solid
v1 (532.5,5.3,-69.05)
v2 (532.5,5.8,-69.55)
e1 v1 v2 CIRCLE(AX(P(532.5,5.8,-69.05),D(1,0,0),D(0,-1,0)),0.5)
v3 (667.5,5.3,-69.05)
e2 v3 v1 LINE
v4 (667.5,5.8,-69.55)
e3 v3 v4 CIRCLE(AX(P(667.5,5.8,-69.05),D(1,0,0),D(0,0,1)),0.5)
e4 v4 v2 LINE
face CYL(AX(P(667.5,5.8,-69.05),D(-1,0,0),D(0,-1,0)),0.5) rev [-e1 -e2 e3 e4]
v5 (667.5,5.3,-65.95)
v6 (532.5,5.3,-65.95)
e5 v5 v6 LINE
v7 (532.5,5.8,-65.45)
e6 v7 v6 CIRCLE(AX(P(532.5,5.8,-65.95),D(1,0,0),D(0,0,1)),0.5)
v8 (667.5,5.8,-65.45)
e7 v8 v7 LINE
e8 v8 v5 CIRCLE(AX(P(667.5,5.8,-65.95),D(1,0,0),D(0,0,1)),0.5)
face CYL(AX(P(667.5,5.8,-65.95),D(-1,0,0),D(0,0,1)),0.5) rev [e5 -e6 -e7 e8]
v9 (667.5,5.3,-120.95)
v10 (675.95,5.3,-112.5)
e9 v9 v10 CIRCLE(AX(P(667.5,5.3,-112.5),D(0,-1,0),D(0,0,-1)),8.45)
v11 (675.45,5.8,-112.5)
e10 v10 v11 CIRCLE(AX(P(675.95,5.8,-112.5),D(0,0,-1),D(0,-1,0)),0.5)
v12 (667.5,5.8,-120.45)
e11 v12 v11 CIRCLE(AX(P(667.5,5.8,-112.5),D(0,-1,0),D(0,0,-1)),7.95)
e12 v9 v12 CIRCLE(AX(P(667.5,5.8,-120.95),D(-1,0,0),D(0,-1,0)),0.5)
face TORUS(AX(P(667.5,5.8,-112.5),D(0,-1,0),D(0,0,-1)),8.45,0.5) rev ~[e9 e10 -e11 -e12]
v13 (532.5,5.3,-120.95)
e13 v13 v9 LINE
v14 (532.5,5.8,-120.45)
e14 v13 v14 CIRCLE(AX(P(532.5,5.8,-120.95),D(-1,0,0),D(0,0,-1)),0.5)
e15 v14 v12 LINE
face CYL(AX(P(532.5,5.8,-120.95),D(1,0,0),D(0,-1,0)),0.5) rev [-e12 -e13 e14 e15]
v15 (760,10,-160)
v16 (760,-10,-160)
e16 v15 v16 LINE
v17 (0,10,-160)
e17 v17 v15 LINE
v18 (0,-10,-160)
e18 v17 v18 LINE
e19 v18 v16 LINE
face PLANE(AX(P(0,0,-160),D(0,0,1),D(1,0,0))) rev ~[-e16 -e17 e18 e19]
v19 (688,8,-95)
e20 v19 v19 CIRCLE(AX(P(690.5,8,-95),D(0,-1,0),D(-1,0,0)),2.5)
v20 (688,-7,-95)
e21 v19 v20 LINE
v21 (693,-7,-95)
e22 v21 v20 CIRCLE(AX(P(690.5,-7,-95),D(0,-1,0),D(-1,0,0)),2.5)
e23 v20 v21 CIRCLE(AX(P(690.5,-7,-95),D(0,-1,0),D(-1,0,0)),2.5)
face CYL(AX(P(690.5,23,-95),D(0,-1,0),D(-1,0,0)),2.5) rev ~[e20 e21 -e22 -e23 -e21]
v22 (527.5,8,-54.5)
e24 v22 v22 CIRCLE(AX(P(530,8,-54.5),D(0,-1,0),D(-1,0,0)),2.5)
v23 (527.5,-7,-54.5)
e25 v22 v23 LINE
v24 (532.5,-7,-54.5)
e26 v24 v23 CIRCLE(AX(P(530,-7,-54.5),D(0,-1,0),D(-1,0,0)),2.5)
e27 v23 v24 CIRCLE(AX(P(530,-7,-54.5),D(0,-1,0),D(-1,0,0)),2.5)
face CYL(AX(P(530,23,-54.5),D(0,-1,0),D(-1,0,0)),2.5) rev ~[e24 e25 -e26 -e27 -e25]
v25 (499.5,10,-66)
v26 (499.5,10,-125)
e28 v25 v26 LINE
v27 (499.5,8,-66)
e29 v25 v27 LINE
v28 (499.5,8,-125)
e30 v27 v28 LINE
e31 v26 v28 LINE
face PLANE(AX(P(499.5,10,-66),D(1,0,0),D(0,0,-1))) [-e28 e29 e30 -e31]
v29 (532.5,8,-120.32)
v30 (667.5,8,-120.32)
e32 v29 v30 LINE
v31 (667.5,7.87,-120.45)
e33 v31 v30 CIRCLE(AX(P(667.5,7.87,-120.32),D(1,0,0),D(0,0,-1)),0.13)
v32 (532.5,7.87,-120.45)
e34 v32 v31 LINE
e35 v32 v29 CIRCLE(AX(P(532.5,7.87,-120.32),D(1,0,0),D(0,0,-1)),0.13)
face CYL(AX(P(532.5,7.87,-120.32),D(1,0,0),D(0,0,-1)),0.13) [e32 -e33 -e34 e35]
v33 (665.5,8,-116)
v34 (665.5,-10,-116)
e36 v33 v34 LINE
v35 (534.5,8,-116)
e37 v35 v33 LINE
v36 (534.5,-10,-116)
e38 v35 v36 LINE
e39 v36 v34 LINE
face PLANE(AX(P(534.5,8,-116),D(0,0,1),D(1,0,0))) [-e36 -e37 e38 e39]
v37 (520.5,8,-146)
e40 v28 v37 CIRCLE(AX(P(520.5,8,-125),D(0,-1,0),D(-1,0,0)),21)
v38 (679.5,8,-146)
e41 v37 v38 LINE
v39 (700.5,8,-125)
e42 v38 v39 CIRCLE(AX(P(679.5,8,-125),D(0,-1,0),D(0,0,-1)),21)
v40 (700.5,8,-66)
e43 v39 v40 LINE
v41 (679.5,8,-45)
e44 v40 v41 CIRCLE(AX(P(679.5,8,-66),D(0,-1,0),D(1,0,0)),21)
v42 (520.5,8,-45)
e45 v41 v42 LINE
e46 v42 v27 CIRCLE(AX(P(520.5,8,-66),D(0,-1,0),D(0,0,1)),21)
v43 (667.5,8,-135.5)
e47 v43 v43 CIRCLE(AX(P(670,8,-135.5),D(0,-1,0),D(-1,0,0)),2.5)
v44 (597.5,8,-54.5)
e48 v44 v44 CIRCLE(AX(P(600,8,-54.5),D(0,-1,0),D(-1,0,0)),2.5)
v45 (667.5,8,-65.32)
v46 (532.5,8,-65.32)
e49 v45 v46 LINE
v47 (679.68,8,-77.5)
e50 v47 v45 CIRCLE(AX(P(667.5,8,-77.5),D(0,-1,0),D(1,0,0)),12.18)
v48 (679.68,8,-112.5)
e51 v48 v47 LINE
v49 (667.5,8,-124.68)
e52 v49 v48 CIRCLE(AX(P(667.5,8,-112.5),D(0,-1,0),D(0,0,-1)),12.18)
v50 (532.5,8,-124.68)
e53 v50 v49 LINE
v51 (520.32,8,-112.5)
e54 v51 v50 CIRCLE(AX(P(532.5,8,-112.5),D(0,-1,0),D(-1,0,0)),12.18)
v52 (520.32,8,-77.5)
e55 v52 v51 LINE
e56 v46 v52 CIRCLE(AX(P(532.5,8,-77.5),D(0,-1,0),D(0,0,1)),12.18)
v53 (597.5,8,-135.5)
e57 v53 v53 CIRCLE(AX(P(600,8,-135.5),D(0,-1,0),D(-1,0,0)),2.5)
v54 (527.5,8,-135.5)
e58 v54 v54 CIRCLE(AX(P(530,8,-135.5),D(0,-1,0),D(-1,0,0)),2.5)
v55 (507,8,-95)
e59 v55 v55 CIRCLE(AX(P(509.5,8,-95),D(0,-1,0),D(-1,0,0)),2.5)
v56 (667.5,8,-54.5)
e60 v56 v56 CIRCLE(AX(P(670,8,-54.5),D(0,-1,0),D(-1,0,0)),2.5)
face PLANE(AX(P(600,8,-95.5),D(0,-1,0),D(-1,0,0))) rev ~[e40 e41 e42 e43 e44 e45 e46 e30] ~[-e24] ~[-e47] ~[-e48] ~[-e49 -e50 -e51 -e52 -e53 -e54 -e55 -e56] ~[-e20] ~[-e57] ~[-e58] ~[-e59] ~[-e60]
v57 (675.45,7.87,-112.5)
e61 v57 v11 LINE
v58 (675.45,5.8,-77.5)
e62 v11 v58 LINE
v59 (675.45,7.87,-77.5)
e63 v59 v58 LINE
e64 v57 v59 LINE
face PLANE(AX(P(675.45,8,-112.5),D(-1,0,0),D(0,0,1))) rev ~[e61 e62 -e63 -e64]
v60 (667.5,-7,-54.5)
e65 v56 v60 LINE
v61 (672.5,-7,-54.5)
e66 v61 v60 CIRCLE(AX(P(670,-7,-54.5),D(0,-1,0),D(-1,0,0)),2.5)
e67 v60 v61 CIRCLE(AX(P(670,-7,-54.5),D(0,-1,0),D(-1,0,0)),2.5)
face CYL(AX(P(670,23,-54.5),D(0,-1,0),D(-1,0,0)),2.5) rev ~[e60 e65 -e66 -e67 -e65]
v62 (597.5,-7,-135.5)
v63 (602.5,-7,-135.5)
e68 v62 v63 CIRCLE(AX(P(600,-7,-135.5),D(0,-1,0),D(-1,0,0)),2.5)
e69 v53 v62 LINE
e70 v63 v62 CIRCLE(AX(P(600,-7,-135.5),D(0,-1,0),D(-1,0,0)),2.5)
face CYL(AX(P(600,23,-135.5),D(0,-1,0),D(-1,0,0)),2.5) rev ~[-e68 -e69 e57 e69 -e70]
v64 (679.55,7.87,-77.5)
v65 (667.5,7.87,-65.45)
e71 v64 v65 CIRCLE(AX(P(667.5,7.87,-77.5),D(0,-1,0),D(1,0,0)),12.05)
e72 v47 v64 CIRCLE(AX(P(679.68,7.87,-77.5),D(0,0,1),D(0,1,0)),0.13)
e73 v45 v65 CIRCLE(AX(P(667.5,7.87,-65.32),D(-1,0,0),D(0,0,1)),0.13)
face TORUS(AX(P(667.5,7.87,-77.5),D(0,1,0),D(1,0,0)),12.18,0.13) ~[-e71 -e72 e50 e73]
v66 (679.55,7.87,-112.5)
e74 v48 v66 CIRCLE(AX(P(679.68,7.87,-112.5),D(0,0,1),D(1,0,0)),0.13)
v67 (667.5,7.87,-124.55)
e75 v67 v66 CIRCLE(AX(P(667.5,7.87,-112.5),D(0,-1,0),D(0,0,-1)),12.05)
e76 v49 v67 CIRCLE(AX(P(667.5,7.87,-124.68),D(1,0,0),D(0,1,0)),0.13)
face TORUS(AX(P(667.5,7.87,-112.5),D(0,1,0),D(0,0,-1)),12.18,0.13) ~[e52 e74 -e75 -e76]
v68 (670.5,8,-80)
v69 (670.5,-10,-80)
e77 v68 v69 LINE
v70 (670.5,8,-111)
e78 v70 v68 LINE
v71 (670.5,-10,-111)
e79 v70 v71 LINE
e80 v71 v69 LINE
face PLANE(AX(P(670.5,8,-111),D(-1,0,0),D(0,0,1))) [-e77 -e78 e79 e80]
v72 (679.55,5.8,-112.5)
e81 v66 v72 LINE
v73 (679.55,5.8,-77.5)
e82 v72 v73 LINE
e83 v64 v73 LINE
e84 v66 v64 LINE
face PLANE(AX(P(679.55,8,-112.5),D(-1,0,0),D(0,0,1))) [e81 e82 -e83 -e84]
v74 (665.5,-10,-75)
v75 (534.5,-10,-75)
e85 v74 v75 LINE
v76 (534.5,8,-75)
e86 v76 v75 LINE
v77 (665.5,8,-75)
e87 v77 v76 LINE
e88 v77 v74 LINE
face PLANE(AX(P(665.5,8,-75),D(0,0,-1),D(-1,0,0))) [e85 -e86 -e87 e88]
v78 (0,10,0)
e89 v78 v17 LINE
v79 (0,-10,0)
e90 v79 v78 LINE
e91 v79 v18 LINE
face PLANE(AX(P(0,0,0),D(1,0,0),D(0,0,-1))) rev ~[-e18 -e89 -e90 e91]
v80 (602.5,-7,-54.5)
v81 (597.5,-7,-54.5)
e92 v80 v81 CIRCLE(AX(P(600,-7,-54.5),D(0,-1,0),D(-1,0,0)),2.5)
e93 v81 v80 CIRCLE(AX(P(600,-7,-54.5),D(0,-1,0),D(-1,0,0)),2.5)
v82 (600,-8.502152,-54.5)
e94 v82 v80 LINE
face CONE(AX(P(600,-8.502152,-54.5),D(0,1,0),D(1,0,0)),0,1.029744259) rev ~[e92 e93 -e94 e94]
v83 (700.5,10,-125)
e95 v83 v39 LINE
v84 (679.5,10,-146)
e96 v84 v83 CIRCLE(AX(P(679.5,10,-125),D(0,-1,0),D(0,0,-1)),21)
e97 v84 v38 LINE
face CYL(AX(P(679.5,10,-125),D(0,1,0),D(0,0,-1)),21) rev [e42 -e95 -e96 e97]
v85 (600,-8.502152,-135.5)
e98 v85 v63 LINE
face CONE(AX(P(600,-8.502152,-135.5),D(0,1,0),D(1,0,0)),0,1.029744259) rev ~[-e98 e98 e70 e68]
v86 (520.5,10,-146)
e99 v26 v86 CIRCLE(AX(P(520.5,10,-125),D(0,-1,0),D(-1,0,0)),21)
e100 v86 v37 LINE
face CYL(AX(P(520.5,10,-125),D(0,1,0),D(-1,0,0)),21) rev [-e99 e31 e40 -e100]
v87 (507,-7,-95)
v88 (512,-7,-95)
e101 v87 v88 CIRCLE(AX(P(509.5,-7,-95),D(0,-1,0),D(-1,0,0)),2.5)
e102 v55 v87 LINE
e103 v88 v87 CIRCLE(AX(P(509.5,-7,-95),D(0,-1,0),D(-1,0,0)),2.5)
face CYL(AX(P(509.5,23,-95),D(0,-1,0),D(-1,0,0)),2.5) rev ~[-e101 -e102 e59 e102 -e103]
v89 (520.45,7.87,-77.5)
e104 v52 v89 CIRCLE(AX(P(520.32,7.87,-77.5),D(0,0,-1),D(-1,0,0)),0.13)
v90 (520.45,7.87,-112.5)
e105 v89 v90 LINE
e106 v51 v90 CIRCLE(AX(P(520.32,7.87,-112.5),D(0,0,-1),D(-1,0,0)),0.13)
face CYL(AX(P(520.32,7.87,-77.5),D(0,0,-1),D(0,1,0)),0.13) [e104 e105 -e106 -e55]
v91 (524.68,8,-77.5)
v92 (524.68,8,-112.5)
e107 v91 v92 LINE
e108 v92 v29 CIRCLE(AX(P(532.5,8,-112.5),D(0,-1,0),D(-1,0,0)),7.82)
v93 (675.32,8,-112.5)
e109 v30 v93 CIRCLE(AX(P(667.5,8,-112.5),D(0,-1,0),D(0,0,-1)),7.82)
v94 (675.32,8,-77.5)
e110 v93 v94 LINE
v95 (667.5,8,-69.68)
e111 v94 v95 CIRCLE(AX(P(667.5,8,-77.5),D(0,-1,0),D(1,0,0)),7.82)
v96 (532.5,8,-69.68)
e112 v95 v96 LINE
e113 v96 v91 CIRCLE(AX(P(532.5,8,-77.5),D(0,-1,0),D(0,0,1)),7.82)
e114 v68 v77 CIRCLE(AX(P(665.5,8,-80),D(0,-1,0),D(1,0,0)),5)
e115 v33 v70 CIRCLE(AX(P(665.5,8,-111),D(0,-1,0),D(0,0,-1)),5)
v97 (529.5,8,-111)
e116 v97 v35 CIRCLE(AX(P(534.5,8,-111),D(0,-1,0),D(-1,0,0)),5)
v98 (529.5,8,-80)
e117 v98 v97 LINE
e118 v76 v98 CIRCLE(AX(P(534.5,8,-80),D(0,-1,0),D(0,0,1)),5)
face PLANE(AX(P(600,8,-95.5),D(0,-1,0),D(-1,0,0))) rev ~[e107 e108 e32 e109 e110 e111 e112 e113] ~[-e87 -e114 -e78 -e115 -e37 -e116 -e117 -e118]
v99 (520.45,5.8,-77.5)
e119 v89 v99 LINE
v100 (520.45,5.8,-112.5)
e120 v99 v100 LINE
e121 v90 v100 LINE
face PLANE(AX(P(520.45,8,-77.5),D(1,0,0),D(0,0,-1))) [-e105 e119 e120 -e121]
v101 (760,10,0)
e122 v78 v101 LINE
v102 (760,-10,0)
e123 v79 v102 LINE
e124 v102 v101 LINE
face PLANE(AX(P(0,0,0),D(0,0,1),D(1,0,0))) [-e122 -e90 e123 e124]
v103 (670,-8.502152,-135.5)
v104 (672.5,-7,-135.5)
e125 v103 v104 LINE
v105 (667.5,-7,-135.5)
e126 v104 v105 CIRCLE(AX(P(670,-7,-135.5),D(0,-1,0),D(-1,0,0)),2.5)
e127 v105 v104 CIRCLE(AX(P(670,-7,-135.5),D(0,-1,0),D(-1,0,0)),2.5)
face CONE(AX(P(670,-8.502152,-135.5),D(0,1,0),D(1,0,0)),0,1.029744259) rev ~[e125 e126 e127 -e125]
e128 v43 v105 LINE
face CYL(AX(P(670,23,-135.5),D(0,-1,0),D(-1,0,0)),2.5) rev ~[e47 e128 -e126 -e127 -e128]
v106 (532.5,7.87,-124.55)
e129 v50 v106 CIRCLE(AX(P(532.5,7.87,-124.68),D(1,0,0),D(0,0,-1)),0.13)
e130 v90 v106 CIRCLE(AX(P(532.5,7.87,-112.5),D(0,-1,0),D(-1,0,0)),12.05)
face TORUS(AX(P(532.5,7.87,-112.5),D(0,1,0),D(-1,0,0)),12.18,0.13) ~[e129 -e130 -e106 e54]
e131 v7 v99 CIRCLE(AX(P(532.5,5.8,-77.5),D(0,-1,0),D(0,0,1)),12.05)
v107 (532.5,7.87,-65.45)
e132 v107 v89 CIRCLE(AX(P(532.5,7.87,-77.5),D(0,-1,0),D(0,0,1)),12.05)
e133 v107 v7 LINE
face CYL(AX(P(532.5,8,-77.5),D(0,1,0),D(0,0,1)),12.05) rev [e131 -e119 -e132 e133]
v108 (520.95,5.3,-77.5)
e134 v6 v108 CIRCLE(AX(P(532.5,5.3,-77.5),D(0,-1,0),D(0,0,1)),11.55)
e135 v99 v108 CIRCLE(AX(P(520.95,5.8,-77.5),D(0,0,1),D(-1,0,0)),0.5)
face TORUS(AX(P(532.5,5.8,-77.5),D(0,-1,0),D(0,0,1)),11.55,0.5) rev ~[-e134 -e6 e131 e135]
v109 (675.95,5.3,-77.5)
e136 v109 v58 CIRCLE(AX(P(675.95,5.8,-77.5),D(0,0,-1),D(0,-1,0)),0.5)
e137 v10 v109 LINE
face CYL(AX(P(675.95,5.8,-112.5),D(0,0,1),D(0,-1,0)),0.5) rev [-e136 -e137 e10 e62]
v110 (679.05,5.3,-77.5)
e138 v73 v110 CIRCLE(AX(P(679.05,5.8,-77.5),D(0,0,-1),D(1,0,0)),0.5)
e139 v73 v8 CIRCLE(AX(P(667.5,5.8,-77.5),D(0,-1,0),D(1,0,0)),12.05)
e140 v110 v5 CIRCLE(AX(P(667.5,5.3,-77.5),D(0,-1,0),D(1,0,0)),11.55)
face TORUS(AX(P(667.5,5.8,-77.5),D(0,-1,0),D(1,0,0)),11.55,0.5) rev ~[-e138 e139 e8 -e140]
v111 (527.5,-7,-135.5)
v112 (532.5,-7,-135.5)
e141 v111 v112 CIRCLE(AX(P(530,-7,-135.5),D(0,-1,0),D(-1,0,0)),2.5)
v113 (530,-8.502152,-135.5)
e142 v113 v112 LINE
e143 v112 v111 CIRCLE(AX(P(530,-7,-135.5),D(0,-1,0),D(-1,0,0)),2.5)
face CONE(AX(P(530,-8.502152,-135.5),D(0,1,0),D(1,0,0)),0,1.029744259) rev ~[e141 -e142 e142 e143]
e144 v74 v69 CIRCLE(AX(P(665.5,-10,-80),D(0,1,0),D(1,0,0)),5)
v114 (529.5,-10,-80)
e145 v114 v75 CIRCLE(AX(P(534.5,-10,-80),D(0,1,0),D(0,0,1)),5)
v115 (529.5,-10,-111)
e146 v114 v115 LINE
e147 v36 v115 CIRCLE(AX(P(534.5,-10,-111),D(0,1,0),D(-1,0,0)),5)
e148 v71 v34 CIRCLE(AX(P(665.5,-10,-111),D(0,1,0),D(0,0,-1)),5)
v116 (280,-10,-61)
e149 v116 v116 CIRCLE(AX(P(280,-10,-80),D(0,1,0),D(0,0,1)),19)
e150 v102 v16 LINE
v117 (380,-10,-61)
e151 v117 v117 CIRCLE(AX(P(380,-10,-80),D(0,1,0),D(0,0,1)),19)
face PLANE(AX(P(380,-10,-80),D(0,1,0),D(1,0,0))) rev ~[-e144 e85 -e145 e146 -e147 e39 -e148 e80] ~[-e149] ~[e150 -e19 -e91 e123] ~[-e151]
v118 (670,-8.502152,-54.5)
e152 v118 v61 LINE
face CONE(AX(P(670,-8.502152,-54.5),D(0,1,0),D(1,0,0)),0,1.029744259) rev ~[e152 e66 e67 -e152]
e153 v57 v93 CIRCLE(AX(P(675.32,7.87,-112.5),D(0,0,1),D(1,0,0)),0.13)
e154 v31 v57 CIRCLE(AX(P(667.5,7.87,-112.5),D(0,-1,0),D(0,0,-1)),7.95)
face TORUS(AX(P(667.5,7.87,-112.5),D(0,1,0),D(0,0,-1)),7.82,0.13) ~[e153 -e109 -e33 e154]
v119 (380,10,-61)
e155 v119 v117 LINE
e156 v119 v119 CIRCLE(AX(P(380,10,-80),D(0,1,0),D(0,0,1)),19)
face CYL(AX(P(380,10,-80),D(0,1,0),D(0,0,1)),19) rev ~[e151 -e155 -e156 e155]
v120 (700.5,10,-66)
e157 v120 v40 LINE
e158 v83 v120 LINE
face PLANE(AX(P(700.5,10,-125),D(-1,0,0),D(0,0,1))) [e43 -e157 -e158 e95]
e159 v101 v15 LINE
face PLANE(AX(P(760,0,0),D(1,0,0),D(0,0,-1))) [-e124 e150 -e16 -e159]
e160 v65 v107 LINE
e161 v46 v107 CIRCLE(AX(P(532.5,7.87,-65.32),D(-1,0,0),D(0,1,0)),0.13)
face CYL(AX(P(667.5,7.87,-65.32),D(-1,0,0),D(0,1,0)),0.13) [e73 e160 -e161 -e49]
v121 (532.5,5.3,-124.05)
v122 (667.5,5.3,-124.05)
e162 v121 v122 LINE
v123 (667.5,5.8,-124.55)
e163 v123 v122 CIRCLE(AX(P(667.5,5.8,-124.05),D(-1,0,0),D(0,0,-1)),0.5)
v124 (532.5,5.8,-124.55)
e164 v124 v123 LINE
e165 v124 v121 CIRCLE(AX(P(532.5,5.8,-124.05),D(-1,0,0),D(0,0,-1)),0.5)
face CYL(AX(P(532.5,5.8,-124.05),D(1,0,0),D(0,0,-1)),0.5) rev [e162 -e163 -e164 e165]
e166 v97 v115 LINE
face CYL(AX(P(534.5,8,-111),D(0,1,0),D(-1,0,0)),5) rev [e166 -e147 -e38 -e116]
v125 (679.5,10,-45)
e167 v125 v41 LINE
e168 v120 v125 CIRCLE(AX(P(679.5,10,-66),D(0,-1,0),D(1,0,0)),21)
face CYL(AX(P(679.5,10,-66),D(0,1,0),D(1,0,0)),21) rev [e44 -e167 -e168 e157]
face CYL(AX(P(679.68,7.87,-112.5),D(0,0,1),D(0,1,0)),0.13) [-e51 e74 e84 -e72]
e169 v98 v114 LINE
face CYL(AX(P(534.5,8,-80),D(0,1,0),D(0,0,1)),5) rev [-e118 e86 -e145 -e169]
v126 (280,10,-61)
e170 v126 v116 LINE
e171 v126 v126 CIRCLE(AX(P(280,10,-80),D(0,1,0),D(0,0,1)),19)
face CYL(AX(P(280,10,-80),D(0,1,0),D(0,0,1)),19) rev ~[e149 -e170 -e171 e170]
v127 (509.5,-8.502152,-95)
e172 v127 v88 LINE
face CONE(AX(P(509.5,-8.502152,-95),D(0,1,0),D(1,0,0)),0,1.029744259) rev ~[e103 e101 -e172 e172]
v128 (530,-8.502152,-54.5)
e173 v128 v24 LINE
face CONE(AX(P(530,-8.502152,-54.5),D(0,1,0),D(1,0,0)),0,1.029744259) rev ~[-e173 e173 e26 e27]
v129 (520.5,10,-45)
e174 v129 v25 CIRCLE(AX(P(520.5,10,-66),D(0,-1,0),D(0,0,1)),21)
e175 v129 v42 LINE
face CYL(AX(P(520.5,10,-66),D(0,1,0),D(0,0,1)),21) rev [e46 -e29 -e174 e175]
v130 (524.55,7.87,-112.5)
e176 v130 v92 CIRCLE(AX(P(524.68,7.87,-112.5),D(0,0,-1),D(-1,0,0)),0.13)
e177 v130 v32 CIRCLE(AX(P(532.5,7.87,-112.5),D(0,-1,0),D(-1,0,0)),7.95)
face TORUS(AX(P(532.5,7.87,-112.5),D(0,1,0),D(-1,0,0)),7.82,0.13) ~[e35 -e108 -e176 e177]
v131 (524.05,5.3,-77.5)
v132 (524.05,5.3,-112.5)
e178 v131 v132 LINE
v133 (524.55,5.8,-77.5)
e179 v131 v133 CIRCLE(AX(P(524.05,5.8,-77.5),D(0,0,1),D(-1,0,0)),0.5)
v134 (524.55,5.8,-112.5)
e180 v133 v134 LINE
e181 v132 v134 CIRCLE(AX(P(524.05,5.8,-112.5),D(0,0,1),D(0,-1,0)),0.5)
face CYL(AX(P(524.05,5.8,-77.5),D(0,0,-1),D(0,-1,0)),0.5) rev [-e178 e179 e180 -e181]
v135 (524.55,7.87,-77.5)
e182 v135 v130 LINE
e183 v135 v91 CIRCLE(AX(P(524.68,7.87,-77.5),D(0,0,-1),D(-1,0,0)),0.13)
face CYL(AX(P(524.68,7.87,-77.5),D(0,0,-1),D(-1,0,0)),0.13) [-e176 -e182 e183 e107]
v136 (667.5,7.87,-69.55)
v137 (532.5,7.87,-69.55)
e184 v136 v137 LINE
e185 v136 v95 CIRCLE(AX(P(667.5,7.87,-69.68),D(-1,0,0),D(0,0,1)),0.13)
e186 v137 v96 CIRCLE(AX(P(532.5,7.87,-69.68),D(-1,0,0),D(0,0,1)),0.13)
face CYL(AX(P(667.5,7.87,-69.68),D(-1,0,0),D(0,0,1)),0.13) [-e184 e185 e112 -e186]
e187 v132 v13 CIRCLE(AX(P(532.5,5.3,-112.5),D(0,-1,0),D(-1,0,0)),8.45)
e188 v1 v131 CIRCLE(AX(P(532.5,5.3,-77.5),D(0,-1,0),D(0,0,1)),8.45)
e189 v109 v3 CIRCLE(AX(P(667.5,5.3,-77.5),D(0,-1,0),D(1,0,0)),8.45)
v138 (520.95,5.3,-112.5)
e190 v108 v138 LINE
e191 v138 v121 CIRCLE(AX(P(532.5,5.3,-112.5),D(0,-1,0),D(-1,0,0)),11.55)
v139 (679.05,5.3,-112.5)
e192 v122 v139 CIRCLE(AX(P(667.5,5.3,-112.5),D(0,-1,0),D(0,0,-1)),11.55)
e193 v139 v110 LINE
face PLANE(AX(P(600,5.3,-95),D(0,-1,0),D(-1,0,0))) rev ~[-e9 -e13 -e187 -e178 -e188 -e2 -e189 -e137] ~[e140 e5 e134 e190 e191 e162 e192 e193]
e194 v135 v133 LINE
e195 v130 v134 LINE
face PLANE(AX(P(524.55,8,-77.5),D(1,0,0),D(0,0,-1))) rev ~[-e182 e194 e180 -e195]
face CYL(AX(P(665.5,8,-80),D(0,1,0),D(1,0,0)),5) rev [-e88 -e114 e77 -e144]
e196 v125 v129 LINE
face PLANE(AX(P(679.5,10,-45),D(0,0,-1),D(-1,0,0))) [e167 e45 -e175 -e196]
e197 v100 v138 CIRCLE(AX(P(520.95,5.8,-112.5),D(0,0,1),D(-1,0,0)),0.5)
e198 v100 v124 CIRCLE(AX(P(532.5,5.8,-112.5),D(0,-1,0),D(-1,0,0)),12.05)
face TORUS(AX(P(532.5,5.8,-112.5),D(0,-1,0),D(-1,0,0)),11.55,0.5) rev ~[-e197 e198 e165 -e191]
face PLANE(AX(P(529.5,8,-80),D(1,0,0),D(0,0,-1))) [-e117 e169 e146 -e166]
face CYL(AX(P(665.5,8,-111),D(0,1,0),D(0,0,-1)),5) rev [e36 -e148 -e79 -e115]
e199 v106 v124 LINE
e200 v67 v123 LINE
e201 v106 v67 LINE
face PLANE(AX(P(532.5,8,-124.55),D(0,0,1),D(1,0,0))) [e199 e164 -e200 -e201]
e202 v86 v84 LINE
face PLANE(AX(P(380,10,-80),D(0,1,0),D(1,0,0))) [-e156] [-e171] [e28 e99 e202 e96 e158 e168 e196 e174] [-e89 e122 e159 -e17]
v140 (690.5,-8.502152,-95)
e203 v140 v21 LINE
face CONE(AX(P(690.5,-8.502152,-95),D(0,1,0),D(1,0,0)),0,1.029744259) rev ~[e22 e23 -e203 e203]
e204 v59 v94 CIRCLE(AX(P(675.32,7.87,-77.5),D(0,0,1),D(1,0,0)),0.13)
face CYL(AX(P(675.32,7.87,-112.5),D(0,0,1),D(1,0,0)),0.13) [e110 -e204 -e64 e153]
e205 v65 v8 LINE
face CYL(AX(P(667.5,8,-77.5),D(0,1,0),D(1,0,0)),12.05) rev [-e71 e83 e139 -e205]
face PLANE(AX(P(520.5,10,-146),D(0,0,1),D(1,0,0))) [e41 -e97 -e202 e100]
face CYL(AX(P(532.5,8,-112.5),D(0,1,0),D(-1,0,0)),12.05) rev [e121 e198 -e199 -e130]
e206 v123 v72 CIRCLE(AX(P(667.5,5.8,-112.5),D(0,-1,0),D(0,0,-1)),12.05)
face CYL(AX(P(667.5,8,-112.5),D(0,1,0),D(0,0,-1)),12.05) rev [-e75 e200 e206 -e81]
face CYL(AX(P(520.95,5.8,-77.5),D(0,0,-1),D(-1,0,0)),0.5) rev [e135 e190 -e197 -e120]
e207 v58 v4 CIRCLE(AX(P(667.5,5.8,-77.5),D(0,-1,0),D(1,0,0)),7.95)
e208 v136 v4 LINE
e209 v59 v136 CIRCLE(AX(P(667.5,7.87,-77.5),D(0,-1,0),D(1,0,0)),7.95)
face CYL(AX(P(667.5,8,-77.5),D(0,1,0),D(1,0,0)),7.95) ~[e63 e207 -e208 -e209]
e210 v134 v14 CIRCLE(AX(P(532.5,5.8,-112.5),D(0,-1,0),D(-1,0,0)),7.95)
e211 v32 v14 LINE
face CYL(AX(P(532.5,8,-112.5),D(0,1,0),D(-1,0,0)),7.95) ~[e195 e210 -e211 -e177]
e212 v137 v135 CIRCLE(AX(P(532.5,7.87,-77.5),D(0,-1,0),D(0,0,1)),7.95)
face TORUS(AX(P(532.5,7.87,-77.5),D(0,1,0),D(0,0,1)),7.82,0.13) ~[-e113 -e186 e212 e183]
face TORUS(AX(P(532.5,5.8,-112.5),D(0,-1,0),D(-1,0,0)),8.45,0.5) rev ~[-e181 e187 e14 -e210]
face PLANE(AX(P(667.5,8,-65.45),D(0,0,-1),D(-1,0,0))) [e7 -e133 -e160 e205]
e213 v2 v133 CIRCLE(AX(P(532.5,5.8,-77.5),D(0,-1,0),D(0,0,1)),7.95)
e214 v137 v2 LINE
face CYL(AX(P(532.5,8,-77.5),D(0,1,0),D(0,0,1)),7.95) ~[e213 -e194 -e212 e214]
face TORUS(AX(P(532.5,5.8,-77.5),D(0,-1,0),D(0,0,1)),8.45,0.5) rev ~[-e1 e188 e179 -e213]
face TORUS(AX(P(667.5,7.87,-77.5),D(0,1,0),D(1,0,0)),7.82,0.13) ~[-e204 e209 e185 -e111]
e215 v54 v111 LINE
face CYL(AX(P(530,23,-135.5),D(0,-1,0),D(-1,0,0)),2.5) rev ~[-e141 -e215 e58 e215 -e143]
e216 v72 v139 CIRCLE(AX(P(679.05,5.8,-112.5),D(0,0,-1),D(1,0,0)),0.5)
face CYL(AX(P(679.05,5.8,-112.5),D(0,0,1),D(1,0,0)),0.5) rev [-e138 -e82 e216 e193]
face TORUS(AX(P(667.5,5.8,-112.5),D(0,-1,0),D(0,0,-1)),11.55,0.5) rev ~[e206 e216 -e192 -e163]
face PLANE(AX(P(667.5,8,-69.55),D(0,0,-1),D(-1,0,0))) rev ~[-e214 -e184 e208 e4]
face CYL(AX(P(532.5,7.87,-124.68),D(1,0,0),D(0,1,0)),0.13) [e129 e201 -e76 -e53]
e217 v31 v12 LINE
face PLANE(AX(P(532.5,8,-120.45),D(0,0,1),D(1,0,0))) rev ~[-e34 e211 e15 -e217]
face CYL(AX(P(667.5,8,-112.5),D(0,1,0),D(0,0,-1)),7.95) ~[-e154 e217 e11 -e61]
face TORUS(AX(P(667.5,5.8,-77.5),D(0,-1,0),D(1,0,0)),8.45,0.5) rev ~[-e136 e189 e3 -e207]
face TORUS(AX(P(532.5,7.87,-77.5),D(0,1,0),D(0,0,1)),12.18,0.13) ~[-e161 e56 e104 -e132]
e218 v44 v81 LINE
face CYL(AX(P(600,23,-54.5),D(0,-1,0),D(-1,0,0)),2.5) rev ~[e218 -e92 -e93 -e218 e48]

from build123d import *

# Parameters (mm, degrees)
SKETCH_1_W             = 760
SKETCH_1_H             = 160
EXTRUDE_1_DEPTH        = 10
SKETCH_2_R             = 19
CUT_EXTRUDE_1_DEPTH    = 777.916983982
CUT_EXTRUDE_2_DEPTH    = 2
CUT_EXTRUDE_4_DEPTH    = 2.7
CUT_EXTRUDE_5_DEPTH    = 777.868071168
HOLE_WIZARD_M6_1_D     = 5
HOLE_WIZARD_M6_1_DEPTH = 15
HOLE_WIZARD_M6_1_TIP   = 1.502151548
FILLET_1_R             = 0.13
FILLET_2_R             = 0.5
FILLET_3_R             = 0.5
FILLET_4_R             = 0.13


with BuildPart() as part:
    # 스케치1 → 보스-돌출1 (new, symmetric)
    with BuildSketch(Plane(origin=(0, 0, 0), x_dir=(1, 0, 0), z_dir=(0, 1, 0))):
        with Locations((380, 80)):
            Rectangle(SKETCH_1_W, SKETCH_1_H)
    extrude(amount=EXTRUDE_1_DEPTH, both=True)

    # 스케치2 → 컷-돌출1 (cut, through all)
    with BuildSketch(Plane(origin=(0, 10, 0), x_dir=(1, 0, 0), z_dir=(0, 1, 0))):
        with Locations(Location((280, 80, 0), (0, 0, 270))):
            Circle(SKETCH_2_R)
        with Locations(Location((380, 80, 0), (0, 0, 270))):
            Circle(SKETCH_2_R)
    extrude(amount=-CUT_EXTRUDE_1_DEPTH, mode=Mode.SUBTRACT)

    # 스케치3 → 컷-돌출2 (cut)
    with BuildSketch(Plane(origin=(0, 10, 0), x_dir=(1, 0, 0), z_dir=(0, 1, 0))):
        with BuildLine():
            Line((520.5, 146), (679.5, 146))
            ThreePointArc((679.5, 146), (694.349242405, 139.849242405), (700.5, 125))
            Line((700.5, 125), (700.5, 66))
            ThreePointArc((700.5, 66), (694.349242405, 51.150757595), (679.5, 45))
            Line((679.5, 45), (520.5, 45))
            ThreePointArc((520.5, 45), (505.650757595, 51.150757595), (499.5, 66))
            Line((499.5, 66), (499.5, 125))
            ThreePointArc((499.5, 125), (505.650757595, 139.849242405), (520.5, 146))
        make_face()
    extrude(amount=-CUT_EXTRUDE_2_DEPTH, mode=Mode.SUBTRACT)

    # 스케치4 → 컷-돌출4 (cut)
    with BuildSketch(Plane(origin=(0, 8, 0), x_dir=(1, 0, 0), z_dir=(0, 1, 0))):
        with BuildLine():
            Line((532.5, 124.55), (667.5, 124.55))
            ThreePointArc((667.5, 124.55), (676.020636713, 121.020636713), (679.55, 112.5))
            Line((679.55, 112.5), (679.55, 77.5))
            ThreePointArc((679.55, 77.5), (676.020636713, 68.979363287), (667.5, 65.45))
            Line((667.5, 65.45), (532.5, 65.45))
            ThreePointArc((532.5, 65.45), (523.979363287, 68.979363287), (520.45, 77.5))
            Line((520.45, 77.5), (520.45, 112.5))
            ThreePointArc((520.45, 112.5), (523.979363287, 121.020636713), (532.5, 124.55))
        make_face()
        with BuildLine():
            Line((532.5, 120.45), (667.5, 120.45))
            ThreePointArc((667.5, 120.45), (673.12149891, 118.12149891), (675.45, 112.5))
            Line((675.45, 112.5), (675.45, 77.5))
            ThreePointArc((675.45, 77.5), (673.12149891, 71.87850109), (667.5, 69.55))
            Line((667.5, 69.55), (532.5, 69.55))
            ThreePointArc((532.5, 69.55), (526.87850109, 71.87850109), (524.55, 77.5))
            Line((524.55, 77.5), (524.55, 112.5))
            ThreePointArc((524.55, 112.5), (526.87850109, 118.12149891), (532.5, 120.45))
        make_face(mode=Mode.SUBTRACT)
    extrude(amount=-CUT_EXTRUDE_4_DEPTH, mode=Mode.SUBTRACT)

    # 스케치5 → 컷-돌출5 (cut, through all)
    with BuildSketch(Plane(origin=(0, 8, 0), x_dir=(1, 0, 0), z_dir=(0, 1, 0))):
        with BuildLine():
            Line((534.5, 116), (665.5, 116))
            ThreePointArc((665.5, 116), (669.035533906, 114.535533906), (670.5, 111))
            Line((670.5, 111), (670.5, 80))
            ThreePointArc((670.5, 80), (669.035533906, 76.464466094), (665.5, 75))
            Line((665.5, 75), (534.5, 75))
            ThreePointArc((534.5, 75), (530.964466094, 76.464466094), (529.5, 80))
            Line((529.5, 80), (529.5, 111))
            ThreePointArc((529.5, 111), (530.964466094, 114.535533906), (534.5, 116))
        make_face()
    extrude(amount=-CUT_EXTRUDE_5_DEPTH, mode=Mode.SUBTRACT)

    # M6 나사 구멍1
    with Locations(Plane(origin=(0, 8, 0), x_dir=(1, 0, 0), z_dir=(0, 1, 0))):
        with Locations((530, 135.5), (600, 135.5), (670, 135.5), (670, 54.5), (600, 54.5), (530, 54.5), (509.5, 95), (690.5, 95)):
            Hole(HOLE_WIZARD_M6_1_D / 2, depth=HOLE_WIZARD_M6_1_DEPTH)
            with Locations((0, 0, -(HOLE_WIZARD_M6_1_DEPTH + HOLE_WIZARD_M6_1_TIP / 2))):  # 118° drill point
                Cone(0, HOLE_WIZARD_M6_1_D / 2, HOLE_WIZARD_M6_1_TIP, mode=Mode.SUBTRACT)

    # 필렛1
    fillet_1_edges = [part.edges().sort_by_distance(p)[0] for p in [
        (523.979363287, 8, -121.020636713),
        (520.45, 8, -95),
        (523.979363287, 8, -68.979363287),
        (600, 8, -65.45),
        (676.020636713, 8, -68.979363287),
        (679.55, 8, -95),
        (676.020636713, 8, -121.020636713),
        (600, 8, -124.55),
    ]]
    fillet(fillet_1_edges, radius=FILLET_1_R)

    # 필렛2
    fillet_2_edges = [part.edges().sort_by_distance(p)[0] for p in [
        (523.979363287, 5.3, -121.020636713),
        (600, 5.3, -124.55),
        (676.020636713, 5.3, -121.020636713),
        (679.55, 5.3, -95),
        (676.020636713, 5.3, -68.979363287),
        (600, 5.3, -65.45),
        (523.979363287, 5.3, -68.979363287),
        (520.45, 5.3, -95),
    ]]
    fillet(fillet_2_edges, radius=FILLET_2_R)

    # 필렛3
    fillet_3_edges = [part.edges().sort_by_distance(p)[0] for p in [
        (675.45, 5.3, -95),
        (673.12149891, 5.3, -118.12149891),
        (600, 5.3, -120.45),
        (526.87850109, 5.3, -118.12149891),
        (524.55, 5.3, -95),
        (526.87850109, 5.3, -71.87850109),
        (600, 5.3, -69.55),
        (673.12149891, 5.3, -71.87850109),
    ]]
    fillet(fillet_3_edges, radius=FILLET_3_R)

    # 필렛4
    fillet_4_edges = [part.edges().sort_by_distance(p)[0] for p in [
        (673.12149891, 8, -118.12149891),
        (675.45, 8, -95),
        (673.12149891, 8, -71.87850109),
        (600, 8, -69.55),
        (526.87850109, 8, -71.87850109),
        (524.55, 8, -95),
        (526.87850109, 8, -118.12149891),
        (600, 8, -120.45),
    ]]
    fillet(fillet_4_edges, radius=FILLET_4_R)


solid = part.part
